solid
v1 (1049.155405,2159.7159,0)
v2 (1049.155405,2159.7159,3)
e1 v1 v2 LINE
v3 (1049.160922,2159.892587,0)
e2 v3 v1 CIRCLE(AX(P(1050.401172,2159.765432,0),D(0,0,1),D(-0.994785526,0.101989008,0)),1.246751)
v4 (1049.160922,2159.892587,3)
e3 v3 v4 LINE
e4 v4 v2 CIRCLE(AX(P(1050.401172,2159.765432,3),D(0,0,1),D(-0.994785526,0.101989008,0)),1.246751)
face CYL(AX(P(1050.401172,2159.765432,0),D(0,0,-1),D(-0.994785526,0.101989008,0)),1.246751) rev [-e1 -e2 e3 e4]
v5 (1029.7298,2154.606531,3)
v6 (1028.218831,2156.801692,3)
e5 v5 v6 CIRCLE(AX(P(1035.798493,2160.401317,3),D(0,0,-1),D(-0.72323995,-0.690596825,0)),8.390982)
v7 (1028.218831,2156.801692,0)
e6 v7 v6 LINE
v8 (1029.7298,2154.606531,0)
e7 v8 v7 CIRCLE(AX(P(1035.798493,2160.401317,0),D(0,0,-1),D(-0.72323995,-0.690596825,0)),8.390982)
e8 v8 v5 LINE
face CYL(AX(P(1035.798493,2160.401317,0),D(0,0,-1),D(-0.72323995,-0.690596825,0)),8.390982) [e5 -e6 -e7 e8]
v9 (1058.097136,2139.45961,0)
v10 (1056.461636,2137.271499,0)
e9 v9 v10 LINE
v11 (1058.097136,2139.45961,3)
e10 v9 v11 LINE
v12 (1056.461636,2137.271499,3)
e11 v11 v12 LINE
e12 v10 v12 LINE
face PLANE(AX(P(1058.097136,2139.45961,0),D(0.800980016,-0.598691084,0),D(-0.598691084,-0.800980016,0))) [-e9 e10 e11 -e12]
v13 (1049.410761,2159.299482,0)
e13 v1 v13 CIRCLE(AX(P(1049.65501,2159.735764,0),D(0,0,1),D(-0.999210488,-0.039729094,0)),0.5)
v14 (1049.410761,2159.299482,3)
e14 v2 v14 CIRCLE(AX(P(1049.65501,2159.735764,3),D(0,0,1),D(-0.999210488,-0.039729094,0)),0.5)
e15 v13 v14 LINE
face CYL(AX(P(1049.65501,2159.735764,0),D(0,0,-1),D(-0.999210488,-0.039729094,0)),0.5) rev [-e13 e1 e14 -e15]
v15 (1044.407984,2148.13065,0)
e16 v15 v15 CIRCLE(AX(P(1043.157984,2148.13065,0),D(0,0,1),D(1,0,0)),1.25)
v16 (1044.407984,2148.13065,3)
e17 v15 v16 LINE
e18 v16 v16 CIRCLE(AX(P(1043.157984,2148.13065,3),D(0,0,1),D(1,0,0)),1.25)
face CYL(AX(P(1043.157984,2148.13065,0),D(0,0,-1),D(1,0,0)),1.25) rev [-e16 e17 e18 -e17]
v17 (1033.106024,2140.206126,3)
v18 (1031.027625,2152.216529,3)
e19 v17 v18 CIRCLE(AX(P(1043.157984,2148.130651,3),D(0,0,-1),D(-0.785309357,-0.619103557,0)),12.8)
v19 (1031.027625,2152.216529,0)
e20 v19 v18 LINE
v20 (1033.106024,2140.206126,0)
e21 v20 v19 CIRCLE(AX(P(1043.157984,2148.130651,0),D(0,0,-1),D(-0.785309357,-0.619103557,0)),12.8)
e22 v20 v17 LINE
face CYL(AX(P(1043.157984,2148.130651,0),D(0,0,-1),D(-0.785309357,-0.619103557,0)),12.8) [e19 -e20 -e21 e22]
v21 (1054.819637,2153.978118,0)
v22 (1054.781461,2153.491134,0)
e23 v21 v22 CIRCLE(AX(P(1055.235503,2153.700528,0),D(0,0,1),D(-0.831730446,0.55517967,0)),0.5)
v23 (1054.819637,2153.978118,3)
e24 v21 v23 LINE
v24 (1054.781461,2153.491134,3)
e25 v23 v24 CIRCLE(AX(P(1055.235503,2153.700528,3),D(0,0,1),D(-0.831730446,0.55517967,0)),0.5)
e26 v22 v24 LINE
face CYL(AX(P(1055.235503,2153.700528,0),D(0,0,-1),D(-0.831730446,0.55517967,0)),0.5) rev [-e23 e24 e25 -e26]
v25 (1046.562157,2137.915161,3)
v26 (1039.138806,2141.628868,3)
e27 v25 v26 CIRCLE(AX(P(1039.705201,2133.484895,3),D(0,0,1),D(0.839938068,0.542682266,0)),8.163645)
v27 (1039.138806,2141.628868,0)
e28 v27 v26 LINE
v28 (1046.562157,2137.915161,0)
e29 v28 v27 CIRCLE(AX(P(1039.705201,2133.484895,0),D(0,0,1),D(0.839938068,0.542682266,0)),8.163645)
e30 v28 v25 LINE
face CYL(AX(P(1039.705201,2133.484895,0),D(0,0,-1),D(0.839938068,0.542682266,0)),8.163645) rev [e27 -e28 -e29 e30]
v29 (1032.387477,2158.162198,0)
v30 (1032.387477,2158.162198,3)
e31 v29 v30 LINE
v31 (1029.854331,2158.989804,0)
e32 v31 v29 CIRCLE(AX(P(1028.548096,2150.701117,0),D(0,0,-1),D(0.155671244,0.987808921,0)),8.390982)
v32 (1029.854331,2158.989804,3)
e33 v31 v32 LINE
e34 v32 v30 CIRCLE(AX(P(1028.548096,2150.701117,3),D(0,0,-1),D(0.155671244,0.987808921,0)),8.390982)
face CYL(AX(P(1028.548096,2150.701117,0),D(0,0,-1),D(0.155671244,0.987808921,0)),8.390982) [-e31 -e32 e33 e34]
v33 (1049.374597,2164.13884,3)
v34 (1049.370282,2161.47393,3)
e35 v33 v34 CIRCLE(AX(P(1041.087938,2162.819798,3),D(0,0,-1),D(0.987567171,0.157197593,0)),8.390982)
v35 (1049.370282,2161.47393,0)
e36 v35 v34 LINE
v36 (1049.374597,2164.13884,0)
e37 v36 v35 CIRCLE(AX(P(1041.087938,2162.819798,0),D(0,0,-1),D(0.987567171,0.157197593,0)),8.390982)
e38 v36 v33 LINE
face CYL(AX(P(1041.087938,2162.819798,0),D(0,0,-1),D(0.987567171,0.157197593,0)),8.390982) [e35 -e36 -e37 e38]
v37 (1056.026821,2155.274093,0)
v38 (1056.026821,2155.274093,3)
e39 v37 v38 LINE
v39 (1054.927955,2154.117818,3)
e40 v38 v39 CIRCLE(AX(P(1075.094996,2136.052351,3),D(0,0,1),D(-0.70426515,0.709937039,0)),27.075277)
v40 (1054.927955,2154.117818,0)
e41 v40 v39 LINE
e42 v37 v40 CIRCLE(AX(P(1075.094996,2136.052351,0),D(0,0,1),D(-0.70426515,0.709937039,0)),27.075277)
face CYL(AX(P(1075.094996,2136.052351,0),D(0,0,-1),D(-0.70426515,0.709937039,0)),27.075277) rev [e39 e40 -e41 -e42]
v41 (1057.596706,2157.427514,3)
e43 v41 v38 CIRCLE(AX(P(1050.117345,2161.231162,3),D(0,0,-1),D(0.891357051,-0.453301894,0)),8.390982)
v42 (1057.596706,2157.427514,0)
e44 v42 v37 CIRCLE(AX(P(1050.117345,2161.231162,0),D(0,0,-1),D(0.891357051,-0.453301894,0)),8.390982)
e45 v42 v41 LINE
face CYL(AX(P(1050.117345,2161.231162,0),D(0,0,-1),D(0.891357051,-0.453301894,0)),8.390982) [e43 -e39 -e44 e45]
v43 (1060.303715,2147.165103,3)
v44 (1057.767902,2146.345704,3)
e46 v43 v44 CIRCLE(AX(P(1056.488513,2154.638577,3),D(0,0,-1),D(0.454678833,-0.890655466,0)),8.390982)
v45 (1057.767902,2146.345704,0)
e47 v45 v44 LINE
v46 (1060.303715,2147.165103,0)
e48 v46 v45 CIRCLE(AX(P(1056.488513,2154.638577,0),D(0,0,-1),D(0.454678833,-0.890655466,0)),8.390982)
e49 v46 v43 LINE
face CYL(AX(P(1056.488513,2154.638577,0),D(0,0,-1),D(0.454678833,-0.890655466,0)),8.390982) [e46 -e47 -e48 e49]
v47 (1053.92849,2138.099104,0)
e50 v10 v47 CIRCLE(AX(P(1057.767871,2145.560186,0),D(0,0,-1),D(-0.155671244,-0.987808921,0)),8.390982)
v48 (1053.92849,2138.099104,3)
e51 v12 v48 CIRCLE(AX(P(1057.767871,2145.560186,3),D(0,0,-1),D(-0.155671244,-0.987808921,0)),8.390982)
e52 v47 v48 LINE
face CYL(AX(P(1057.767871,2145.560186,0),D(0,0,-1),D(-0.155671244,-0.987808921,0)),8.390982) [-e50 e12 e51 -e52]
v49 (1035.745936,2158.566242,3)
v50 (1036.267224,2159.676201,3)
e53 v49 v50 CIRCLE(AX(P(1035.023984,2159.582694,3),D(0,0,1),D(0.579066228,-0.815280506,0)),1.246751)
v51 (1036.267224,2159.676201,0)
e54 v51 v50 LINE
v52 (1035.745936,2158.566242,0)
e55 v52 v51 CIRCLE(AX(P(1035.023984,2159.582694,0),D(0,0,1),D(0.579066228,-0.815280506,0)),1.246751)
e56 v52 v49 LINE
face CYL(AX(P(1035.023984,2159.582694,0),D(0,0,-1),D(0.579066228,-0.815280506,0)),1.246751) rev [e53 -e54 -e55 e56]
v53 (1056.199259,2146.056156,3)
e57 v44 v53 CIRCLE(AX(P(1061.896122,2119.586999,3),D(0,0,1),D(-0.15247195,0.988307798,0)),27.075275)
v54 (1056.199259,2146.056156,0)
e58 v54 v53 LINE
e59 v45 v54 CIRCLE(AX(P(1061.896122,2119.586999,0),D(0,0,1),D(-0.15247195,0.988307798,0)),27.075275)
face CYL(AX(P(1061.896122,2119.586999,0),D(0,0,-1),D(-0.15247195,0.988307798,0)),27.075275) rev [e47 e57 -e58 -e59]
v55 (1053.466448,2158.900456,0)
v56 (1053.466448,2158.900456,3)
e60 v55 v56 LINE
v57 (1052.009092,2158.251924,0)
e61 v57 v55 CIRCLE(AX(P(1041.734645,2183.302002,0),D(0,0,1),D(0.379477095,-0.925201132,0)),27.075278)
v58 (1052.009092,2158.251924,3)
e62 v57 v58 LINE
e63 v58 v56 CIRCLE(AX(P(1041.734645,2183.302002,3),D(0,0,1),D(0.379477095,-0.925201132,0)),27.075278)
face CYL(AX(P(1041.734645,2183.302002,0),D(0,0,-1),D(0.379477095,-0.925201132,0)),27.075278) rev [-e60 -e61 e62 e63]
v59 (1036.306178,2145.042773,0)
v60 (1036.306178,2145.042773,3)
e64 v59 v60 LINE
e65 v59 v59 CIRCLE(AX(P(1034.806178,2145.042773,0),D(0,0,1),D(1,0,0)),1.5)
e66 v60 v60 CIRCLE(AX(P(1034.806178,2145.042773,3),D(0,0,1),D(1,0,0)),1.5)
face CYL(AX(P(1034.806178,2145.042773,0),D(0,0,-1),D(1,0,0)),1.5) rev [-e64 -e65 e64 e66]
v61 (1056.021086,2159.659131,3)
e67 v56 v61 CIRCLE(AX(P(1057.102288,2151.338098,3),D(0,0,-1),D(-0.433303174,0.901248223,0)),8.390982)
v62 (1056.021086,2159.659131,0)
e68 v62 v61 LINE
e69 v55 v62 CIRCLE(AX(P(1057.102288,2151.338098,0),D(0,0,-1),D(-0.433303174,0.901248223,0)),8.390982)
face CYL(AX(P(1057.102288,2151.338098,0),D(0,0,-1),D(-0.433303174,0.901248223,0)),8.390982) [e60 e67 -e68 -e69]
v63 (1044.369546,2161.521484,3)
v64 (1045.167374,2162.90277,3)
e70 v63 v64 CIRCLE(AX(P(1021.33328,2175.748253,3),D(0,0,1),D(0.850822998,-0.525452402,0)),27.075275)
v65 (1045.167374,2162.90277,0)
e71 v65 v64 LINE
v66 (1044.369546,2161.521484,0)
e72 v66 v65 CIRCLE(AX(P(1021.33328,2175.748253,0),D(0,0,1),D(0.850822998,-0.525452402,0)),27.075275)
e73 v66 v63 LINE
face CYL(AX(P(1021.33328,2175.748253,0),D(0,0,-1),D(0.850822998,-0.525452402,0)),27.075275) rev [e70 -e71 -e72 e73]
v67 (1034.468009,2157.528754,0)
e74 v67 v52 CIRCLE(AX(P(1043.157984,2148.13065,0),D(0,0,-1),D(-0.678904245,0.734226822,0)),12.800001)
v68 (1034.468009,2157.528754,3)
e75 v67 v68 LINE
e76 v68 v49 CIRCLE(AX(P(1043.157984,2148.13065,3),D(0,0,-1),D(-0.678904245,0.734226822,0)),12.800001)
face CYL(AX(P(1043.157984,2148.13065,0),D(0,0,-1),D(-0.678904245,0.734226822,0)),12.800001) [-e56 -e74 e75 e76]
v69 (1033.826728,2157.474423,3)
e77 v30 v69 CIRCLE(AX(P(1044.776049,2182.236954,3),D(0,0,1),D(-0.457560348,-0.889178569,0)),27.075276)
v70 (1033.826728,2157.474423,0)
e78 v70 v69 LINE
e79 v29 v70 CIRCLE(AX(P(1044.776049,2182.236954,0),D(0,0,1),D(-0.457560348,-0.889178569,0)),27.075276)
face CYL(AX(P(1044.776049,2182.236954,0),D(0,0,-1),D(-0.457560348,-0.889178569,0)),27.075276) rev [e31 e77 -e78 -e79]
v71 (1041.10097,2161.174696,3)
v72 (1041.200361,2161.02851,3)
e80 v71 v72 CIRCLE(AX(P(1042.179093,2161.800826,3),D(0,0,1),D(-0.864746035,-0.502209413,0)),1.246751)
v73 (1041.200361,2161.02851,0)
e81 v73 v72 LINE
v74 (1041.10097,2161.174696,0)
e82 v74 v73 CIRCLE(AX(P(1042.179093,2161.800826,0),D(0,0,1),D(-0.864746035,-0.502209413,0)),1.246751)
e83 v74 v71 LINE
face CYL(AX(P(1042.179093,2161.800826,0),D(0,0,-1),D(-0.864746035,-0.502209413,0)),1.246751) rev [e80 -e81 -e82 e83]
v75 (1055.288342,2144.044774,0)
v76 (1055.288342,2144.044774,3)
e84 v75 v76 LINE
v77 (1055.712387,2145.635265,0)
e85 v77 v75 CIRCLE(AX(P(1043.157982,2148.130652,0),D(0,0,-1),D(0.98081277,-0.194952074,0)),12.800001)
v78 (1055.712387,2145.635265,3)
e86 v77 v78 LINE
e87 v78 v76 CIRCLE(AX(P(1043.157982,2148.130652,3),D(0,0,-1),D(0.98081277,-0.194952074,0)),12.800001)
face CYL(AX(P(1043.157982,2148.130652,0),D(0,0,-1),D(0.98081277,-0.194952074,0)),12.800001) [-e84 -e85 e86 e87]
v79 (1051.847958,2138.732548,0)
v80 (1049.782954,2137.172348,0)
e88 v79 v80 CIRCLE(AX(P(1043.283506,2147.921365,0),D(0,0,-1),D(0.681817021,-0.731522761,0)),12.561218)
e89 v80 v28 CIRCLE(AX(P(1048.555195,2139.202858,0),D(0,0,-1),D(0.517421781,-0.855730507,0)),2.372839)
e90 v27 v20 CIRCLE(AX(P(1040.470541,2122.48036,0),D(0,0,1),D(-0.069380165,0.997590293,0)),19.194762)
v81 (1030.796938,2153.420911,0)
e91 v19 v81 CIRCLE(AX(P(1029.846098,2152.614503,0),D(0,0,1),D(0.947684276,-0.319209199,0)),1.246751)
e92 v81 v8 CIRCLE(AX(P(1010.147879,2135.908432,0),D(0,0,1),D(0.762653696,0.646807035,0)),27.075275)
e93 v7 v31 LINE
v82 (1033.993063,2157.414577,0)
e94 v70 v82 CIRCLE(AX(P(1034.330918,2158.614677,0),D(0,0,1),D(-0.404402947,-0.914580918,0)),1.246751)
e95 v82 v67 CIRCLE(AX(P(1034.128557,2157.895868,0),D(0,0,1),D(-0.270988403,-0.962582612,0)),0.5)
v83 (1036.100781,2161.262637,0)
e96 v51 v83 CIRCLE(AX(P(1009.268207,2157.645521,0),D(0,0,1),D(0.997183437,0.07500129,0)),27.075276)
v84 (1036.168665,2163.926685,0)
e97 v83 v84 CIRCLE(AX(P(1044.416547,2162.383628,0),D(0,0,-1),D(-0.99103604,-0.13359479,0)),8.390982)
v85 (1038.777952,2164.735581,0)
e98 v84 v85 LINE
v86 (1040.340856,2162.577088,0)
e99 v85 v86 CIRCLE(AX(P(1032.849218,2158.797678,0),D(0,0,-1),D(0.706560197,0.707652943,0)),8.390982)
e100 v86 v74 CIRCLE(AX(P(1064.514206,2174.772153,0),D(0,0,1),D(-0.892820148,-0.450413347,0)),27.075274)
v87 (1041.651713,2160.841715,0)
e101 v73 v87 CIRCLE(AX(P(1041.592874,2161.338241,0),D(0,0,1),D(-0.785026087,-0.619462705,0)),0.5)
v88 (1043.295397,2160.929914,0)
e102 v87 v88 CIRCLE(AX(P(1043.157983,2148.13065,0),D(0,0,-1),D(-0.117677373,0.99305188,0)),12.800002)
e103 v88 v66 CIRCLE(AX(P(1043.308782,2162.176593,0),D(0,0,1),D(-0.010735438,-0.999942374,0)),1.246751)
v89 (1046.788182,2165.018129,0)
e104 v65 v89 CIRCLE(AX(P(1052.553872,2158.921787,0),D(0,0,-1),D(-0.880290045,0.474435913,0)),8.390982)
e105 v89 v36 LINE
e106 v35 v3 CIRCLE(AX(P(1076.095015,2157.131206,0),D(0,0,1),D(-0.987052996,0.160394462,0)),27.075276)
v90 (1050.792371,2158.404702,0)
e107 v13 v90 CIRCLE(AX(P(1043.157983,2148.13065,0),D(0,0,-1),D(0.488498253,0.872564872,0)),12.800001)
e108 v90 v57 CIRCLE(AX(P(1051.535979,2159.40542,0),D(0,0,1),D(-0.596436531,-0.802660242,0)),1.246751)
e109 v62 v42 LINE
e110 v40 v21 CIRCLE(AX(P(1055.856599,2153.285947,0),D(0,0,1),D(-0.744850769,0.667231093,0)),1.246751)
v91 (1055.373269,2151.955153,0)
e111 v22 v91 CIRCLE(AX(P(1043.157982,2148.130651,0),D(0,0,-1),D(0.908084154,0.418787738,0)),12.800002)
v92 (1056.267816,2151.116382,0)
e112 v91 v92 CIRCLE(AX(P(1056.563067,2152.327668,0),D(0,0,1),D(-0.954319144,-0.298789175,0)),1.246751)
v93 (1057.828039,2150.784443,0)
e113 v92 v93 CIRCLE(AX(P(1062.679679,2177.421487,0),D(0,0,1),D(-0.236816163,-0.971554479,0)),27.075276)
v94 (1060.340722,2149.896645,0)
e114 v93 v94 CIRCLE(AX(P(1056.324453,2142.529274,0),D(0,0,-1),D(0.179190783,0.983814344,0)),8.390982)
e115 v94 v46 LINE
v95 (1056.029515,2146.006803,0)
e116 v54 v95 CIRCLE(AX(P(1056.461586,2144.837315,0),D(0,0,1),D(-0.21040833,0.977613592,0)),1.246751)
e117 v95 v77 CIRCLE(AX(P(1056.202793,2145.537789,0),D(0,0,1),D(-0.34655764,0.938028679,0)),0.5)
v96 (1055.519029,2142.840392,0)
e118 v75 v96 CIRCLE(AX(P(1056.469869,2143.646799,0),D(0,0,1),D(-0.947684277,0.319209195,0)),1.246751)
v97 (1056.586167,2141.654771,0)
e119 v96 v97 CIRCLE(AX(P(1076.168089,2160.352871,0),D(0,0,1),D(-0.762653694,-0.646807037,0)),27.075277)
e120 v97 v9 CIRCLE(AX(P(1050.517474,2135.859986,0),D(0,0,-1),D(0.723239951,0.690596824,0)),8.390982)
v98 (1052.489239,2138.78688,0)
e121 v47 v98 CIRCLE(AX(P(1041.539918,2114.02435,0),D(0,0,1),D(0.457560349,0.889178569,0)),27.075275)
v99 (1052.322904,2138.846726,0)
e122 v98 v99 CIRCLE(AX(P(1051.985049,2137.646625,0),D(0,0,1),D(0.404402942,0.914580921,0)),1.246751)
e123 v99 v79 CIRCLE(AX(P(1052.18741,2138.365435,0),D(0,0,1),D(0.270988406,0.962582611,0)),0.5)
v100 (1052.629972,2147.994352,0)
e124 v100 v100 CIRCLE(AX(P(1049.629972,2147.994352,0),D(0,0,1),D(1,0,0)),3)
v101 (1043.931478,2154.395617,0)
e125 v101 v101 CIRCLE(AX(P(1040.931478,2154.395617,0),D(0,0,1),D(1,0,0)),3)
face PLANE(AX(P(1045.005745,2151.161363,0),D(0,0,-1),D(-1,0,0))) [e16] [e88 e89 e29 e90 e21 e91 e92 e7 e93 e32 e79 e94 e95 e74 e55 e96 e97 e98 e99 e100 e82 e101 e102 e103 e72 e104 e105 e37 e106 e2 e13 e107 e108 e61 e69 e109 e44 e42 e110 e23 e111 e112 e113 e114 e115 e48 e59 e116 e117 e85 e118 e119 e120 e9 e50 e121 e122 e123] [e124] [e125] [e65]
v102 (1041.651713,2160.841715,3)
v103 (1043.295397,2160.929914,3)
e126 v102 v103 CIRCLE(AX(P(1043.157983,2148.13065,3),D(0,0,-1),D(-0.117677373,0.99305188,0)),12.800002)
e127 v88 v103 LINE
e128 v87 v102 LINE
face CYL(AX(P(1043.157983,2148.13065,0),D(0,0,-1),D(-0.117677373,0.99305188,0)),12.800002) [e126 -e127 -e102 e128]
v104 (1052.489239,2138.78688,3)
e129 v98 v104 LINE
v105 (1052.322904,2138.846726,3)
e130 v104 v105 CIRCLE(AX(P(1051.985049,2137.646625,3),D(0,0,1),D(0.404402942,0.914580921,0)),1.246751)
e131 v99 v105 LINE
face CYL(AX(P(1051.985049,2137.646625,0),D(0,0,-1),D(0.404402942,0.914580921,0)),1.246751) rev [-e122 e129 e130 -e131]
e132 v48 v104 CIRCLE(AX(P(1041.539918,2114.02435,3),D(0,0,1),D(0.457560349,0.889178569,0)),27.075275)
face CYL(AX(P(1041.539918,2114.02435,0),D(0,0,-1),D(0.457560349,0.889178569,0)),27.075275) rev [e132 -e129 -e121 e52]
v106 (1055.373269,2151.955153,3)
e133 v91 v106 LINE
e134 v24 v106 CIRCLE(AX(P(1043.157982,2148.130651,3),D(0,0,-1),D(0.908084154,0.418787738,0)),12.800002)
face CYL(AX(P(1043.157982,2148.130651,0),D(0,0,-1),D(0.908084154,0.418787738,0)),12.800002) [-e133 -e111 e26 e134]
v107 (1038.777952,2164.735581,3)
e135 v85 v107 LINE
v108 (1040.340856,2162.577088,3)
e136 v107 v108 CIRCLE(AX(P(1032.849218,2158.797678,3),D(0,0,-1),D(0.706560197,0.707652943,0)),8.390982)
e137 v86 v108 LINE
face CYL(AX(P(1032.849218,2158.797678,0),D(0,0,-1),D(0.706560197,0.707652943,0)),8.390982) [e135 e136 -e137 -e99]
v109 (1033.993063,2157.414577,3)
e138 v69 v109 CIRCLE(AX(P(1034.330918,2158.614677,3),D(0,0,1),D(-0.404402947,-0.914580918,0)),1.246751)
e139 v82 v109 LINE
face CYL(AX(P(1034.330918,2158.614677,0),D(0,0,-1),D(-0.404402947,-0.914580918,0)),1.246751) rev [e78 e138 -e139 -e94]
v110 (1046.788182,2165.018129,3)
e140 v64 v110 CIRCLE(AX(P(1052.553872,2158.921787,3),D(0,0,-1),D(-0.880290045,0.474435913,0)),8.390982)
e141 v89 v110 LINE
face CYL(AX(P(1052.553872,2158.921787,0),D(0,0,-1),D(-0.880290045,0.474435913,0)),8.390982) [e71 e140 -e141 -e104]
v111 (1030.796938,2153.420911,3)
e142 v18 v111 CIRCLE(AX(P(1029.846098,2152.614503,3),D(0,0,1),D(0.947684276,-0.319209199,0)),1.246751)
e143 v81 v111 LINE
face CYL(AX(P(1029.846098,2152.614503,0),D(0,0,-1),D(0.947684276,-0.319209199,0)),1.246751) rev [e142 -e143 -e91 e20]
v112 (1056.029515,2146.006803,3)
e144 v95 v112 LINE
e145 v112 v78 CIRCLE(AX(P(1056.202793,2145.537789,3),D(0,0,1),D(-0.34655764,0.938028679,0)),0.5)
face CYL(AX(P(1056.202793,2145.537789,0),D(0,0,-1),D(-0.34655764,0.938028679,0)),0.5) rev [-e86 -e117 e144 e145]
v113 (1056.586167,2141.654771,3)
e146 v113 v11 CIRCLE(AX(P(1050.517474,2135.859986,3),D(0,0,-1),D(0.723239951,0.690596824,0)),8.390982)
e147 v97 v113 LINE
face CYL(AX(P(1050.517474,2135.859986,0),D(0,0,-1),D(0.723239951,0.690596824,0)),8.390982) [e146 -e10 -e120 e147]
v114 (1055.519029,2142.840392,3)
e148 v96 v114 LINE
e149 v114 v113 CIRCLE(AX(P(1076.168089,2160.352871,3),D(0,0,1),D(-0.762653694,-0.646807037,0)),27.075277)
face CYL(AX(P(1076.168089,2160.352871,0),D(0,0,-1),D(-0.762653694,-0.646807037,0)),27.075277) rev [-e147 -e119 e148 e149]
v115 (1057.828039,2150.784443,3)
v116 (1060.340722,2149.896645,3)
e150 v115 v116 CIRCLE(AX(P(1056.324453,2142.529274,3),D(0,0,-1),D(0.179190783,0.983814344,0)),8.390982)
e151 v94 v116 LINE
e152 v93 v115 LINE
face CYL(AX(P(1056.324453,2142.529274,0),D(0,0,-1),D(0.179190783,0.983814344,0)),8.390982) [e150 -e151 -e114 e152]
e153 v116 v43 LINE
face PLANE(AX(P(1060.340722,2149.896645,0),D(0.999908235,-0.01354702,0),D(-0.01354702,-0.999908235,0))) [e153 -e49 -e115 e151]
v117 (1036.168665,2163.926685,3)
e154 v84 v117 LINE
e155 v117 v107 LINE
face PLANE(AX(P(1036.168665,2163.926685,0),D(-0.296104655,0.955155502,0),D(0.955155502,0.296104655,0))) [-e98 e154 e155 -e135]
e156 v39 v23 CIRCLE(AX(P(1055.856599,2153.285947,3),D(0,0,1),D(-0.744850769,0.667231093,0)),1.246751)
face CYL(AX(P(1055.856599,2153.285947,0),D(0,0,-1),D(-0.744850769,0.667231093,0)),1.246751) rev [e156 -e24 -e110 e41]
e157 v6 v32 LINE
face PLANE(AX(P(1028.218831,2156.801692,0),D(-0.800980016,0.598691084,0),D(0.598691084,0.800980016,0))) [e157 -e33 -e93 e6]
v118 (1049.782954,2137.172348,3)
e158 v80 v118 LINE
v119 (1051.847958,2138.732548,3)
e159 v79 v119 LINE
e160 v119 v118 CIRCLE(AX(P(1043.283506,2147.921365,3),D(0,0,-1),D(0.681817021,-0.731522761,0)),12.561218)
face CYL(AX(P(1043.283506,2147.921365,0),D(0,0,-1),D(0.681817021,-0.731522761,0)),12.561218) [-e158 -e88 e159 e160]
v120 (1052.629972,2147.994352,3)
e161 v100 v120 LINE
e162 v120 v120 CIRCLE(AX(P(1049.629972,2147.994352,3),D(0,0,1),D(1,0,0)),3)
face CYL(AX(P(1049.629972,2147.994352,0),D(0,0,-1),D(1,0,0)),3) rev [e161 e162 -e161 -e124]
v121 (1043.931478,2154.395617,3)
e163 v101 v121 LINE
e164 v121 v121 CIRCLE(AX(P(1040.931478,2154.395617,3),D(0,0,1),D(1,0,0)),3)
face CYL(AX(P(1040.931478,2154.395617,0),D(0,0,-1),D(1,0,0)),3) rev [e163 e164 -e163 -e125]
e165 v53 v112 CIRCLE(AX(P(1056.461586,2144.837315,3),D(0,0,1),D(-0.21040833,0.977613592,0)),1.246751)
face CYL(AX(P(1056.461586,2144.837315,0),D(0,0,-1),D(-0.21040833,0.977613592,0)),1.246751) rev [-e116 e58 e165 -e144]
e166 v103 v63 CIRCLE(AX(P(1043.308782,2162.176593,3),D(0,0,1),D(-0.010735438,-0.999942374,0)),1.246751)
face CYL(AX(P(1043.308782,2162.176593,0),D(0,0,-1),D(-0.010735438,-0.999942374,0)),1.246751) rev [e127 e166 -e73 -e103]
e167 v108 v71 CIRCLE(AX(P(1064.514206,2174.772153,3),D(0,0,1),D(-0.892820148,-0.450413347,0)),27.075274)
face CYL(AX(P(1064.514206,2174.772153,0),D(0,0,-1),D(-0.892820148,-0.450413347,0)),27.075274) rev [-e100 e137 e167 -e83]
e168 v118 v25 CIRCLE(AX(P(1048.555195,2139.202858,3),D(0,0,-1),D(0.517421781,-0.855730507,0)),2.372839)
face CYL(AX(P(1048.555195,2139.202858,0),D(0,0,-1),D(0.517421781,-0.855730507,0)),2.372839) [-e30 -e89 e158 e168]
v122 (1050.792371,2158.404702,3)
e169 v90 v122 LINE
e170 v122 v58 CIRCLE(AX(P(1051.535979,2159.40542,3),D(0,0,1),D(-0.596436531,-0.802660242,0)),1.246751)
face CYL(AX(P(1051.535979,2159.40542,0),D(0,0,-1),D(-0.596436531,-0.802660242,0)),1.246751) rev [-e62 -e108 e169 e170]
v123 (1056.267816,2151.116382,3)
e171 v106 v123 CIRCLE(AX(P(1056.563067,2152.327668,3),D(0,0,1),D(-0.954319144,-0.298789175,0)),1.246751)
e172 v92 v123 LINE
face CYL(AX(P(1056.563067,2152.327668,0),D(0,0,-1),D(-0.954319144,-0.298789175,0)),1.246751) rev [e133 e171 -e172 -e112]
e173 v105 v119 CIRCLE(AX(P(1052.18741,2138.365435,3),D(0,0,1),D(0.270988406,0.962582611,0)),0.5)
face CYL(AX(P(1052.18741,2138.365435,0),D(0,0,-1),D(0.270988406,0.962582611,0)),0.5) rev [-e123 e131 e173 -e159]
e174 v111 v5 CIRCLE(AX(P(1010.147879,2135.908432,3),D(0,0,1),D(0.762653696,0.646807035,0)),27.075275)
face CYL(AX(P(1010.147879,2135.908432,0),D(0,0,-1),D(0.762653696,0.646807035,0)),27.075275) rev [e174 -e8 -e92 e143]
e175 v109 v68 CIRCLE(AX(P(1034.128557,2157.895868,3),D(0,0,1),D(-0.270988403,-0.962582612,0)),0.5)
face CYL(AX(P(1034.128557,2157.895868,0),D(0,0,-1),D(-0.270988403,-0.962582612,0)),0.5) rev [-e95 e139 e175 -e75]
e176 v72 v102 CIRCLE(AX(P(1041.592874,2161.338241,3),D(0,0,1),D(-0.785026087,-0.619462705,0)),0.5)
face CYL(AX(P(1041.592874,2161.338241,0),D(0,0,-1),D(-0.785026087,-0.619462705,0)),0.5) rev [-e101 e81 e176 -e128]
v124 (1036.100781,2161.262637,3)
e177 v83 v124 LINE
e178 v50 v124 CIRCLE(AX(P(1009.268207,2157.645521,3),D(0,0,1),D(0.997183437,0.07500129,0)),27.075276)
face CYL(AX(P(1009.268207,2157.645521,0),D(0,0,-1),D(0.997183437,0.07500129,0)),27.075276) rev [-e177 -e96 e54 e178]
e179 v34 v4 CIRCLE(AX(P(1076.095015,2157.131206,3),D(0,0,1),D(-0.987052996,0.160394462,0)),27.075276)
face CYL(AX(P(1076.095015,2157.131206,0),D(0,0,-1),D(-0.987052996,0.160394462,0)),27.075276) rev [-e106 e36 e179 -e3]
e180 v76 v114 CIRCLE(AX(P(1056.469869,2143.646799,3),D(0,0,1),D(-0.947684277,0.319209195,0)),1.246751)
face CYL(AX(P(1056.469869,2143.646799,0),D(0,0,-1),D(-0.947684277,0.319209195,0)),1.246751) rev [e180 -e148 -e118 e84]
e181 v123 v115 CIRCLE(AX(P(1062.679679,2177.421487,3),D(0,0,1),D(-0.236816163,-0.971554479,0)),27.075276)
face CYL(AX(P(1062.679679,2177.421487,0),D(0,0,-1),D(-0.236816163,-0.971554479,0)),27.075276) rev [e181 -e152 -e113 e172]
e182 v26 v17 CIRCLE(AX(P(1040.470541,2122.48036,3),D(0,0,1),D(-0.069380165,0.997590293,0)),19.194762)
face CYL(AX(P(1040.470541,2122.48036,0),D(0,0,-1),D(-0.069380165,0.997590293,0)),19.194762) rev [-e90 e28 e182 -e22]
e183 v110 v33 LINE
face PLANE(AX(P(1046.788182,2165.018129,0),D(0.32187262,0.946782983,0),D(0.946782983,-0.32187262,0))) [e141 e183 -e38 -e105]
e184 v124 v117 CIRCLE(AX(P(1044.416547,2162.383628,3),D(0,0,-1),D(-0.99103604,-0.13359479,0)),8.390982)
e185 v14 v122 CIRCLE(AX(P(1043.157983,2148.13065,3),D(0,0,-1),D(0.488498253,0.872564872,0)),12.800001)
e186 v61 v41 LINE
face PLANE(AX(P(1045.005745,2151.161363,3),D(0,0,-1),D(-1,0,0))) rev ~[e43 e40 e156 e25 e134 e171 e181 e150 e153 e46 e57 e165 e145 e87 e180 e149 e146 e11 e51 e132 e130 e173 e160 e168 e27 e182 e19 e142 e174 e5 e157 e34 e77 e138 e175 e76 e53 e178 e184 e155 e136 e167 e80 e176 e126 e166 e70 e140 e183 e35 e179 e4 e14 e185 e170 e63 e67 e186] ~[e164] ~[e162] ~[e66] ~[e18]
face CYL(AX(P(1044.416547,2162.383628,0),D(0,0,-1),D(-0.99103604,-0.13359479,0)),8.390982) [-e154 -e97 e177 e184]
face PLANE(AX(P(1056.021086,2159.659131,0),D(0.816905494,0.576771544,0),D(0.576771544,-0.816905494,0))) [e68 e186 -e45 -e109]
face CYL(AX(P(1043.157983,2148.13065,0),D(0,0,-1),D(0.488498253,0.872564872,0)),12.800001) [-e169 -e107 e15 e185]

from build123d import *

# Parameters (mm, degrees)
ESQUISSE1_R        = 1.25
ESQUISSE1_R_2      = 3
ESQUISSE1_R_3      = 1.5
BOSS_EXTRU_1_DEPTH = 3


with BuildPart() as part:
    # Esquisse1 → Boss.-Extru.1 (new body)
    with BuildSketch(Plane.XY):
        with BuildLine():
            Line((1036.168665086, 2163.92668469), (1038.777951956, 2164.735581239))
            ThreePointArc((1038.777951956, 2164.735581239), (1039.645641159, 2163.718776789), (1040.340855862, 2162.577088409))
            ThreePointArc((1040.340855862, 2162.577088409), (1040.710583065, 2161.870292972), (1041.100970281, 2161.174695519))
            ThreePointArc((1041.100970281, 2161.174695519), (1041.148071574, 2161.099838925), (1041.200361208, 2161.028509858))
            ThreePointArc((1041.200361208, 2161.028509858), (1041.401673575, 2160.876243049), (1041.651712938, 2160.841715271))
            ThreePointArc((1041.651712938, 2160.841715271), (1042.472135802, 2160.912263521), (1043.295397124, 2160.929913601))
            ThreePointArc((1043.295397124, 2160.929913601), (1043.910230031, 2161.084508602), (1044.369546036, 2161.521484488))
            ThreePointArc((1044.369546036, 2161.521484488), (1044.778634779, 2162.206250429), (1045.167374464, 2162.902769957))
            ThreePointArc((1045.167374464, 2162.902769957), (1045.893264106, 2164.025204841), (1046.788181642, 2165.01812903))
            Line((1046.788181642, 2165.01812903), (1049.374596526, 2164.138839743))
            ThreePointArc((1049.374596526, 2164.138839743), (1049.478909177, 2162.806212746), (1049.370282093, 2161.473930495))
            ThreePointArc((1049.370282093, 2161.473930495), (1049.25395375, 2160.684800777), (1049.160921717, 2159.892586769))
            ThreePointArc((1049.160921717, 2159.892586769), (1049.155027862, 2159.804341066), (1049.155404891, 2159.715899564))
            ThreePointArc((1049.155404891, 2159.715899564), (1049.228769832, 2159.474384686), (1049.410761007, 2159.299481677))
            ThreePointArc((1049.410761007, 2159.299481677), (1050.115964268, 2158.874323951), (1050.792371125, 2158.404702301))
            ThreePointArc((1050.792371125, 2158.404702301), (1051.380650057, 2158.168382569), (1052.009092492, 2158.251924312))
            ThreePointArc((1052.009092492, 2158.251924312), (1052.742547559, 2158.565455267), (1053.466448477, 2158.900455947))
            ThreePointArc((1053.466448477, 2158.900455947), (1054.713456205, 2159.381857617), (1056.021085895, 2159.65913083))
            Line((1056.021085895, 2159.65913083), (1057.596706215, 2157.42751433))
            ThreePointArc((1057.596706215, 2157.42751433), (1056.897798427, 2156.288083004), (1056.026821411, 2155.274093419))
            ThreePointArc((1056.026821411, 2155.274093419), (1055.468870995, 2154.704050151), (1054.927954788, 2154.117818412))
            ThreePointArc((1054.927954788, 2154.117818412), (1054.871317037, 2154.04989046), (1054.819637448, 2153.97811817))
            ThreePointArc((1054.819637448, 2153.97811817), (1054.73703205, 2153.739605699), (1054.781460594, 2153.491134464))
            ThreePointArc((1054.781460594, 2153.491134464), (1055.102080574, 2152.732666561), (1055.373268538, 2151.955152691))
            ThreePointArc((1055.373268538, 2151.955152691), (1055.710290937, 2151.41818433), (1056.267816152, 2151.116381825))
            ThreePointArc((1056.267816152, 2151.116381825), (1057.045482637, 2150.938919624), (1057.828039241, 2150.784442585))
            ThreePointArc((1057.828039241, 2150.784442585), (1059.119850487, 2150.440931965), (1060.340722234, 2149.896645259))
            Line((1060.340722234, 2149.896645259), (1060.303714582, 2147.165103197))
            ThreePointArc((1060.303714582, 2147.165103197), (1059.068545375, 2146.654091582), (1057.767902043, 2146.34570422))
            ThreePointArc((1057.767902043, 2146.34570422), (1056.981447648, 2146.212484556), (1056.199258874, 2146.056155685))
            ThreePointArc((1056.199258874, 2146.056155685), (1056.113510922, 2146.034491652), (1056.029514563, 2146.006803149))
            ThreePointArc((1056.029514563, 2146.006803149), (1055.822491279, 2145.862396742), (1055.712386998, 2145.635264847))
            ThreePointArc((1055.712386998, 2145.635264847), (1055.525957764, 2144.833195728), (1055.288342248, 2144.044773508))
            ThreePointArc((1055.288342248, 2144.044773508), (1055.245377014, 2143.412260183), (1055.519029326, 2142.840391728))
            ThreePointArc((1055.519029326, 2142.840391728), (1056.043865064, 2142.239720901), (1056.58616733, 2141.65477112))
            ThreePointArc((1056.58616733, 2141.65477112), (1057.429354105, 2140.617557591), (1058.097136398, 2139.459609988))
            Line((1058.097136398, 2139.459609988), (1056.461636439, 2137.271498592))
            ThreePointArc((1056.461636439, 2137.271498592), (1055.161998468, 2137.584095755), (1053.928490366, 2138.099104107))
            ThreePointArc((1053.928490366, 2138.099104107), (1053.21393084, 2138.45359343), (1052.489239025, 2138.786879742))
            ThreePointArc((1052.489239025, 2138.786879742), (1052.407133676, 2138.819754553), (1052.3229043, 2138.846725905))
            ThreePointArc((1052.3229043, 2138.846725905), (1052.070538988, 2138.851583901), (1051.847957976, 2138.73254801))
            ThreePointArc((1051.847957976, 2138.73254801), (1050.855746376, 2137.899121153), (1049.782953643, 2137.172347506))
            ThreePointArc((1049.782953643, 2137.172347506), (1048.021944621, 2136.890714387), (1046.562157009, 2137.915160637))
            ThreePointArc((1046.562157009, 2137.915160637), (1043.357692527, 2140.785881782), (1039.138805682, 2141.628868317))
            ThreePointArc((1039.138805682, 2141.628868317), (1036.064607347, 2141.162614564), (1033.106023732, 2140.206125696))
            ThreePointArc((1033.106023732, 2140.206125696), (1030.545439739, 2145.948051891), (1031.027624755, 2152.216528933))
            ThreePointArc((1031.027624755, 2152.216528933), (1031.07058999, 2152.849042258), (1030.796937677, 2153.420910712))
            ThreePointArc((1030.796937677, 2153.420910712), (1030.27210194, 2154.02158154), (1029.729799674, 2154.606531321))
            ThreePointArc((1029.729799674, 2154.606531321), (1028.886612898, 2155.643744849), (1028.218830606, 2156.801692452))
            Line((1028.218830606, 2156.801692452), (1029.854330565, 2158.989803849))
            ThreePointArc((1029.854330565, 2158.989803849), (1031.153968536, 2158.677206686), (1032.387476638, 2158.162198333))
            ThreePointArc((1032.387476638, 2158.162198333), (1033.102036163, 2157.807709011), (1033.826727979, 2157.474422698))
            ThreePointArc((1033.826727979, 2157.474422698), (1033.908833328, 2157.441547887), (1033.993062704, 2157.414576536))
            ThreePointArc((1033.993062704, 2157.414576536), (1034.245428015, 2157.40971854), (1034.468009028, 2157.52875443))
            ThreePointArc((1034.468009028, 2157.52875443), (1035.090277846, 2158.068061624), (1035.74593579, 2158.566241703))
            ThreePointArc((1035.74593579, 2158.566241703), (1036.152477399, 2159.052701401), (1036.267223872, 2159.676201493))
            ThreePointArc((1036.267223872, 2159.676201493), (1036.195688295, 2160.470645106), (1036.1007814, 2161.262636695))
            ThreePointArc((1036.1007814, 2161.262636695), (1036.028287785, 2162.597372817), (1036.168665086, 2163.92668469))
        make_face()
        with Locations((1043.15798434, 2148.13065004)):
            Circle(ESQUISSE1_R, mode=Mode.SUBTRACT)
        with Locations((1040.931477639, 2154.395616576)):
            Circle(ESQUISSE1_R_2, mode=Mode.SUBTRACT)
        with Locations((1049.629972316, 2147.99435183)):
            Circle(ESQUISSE1_R_2, mode=Mode.SUBTRACT)
        with Locations((1034.806177599, 2145.042773361)):
            Circle(ESQUISSE1_R_3, mode=Mode.SUBTRACT)
    extrude(amount=BOSS_EXTRU_1_DEPTH)


solid = part.part
